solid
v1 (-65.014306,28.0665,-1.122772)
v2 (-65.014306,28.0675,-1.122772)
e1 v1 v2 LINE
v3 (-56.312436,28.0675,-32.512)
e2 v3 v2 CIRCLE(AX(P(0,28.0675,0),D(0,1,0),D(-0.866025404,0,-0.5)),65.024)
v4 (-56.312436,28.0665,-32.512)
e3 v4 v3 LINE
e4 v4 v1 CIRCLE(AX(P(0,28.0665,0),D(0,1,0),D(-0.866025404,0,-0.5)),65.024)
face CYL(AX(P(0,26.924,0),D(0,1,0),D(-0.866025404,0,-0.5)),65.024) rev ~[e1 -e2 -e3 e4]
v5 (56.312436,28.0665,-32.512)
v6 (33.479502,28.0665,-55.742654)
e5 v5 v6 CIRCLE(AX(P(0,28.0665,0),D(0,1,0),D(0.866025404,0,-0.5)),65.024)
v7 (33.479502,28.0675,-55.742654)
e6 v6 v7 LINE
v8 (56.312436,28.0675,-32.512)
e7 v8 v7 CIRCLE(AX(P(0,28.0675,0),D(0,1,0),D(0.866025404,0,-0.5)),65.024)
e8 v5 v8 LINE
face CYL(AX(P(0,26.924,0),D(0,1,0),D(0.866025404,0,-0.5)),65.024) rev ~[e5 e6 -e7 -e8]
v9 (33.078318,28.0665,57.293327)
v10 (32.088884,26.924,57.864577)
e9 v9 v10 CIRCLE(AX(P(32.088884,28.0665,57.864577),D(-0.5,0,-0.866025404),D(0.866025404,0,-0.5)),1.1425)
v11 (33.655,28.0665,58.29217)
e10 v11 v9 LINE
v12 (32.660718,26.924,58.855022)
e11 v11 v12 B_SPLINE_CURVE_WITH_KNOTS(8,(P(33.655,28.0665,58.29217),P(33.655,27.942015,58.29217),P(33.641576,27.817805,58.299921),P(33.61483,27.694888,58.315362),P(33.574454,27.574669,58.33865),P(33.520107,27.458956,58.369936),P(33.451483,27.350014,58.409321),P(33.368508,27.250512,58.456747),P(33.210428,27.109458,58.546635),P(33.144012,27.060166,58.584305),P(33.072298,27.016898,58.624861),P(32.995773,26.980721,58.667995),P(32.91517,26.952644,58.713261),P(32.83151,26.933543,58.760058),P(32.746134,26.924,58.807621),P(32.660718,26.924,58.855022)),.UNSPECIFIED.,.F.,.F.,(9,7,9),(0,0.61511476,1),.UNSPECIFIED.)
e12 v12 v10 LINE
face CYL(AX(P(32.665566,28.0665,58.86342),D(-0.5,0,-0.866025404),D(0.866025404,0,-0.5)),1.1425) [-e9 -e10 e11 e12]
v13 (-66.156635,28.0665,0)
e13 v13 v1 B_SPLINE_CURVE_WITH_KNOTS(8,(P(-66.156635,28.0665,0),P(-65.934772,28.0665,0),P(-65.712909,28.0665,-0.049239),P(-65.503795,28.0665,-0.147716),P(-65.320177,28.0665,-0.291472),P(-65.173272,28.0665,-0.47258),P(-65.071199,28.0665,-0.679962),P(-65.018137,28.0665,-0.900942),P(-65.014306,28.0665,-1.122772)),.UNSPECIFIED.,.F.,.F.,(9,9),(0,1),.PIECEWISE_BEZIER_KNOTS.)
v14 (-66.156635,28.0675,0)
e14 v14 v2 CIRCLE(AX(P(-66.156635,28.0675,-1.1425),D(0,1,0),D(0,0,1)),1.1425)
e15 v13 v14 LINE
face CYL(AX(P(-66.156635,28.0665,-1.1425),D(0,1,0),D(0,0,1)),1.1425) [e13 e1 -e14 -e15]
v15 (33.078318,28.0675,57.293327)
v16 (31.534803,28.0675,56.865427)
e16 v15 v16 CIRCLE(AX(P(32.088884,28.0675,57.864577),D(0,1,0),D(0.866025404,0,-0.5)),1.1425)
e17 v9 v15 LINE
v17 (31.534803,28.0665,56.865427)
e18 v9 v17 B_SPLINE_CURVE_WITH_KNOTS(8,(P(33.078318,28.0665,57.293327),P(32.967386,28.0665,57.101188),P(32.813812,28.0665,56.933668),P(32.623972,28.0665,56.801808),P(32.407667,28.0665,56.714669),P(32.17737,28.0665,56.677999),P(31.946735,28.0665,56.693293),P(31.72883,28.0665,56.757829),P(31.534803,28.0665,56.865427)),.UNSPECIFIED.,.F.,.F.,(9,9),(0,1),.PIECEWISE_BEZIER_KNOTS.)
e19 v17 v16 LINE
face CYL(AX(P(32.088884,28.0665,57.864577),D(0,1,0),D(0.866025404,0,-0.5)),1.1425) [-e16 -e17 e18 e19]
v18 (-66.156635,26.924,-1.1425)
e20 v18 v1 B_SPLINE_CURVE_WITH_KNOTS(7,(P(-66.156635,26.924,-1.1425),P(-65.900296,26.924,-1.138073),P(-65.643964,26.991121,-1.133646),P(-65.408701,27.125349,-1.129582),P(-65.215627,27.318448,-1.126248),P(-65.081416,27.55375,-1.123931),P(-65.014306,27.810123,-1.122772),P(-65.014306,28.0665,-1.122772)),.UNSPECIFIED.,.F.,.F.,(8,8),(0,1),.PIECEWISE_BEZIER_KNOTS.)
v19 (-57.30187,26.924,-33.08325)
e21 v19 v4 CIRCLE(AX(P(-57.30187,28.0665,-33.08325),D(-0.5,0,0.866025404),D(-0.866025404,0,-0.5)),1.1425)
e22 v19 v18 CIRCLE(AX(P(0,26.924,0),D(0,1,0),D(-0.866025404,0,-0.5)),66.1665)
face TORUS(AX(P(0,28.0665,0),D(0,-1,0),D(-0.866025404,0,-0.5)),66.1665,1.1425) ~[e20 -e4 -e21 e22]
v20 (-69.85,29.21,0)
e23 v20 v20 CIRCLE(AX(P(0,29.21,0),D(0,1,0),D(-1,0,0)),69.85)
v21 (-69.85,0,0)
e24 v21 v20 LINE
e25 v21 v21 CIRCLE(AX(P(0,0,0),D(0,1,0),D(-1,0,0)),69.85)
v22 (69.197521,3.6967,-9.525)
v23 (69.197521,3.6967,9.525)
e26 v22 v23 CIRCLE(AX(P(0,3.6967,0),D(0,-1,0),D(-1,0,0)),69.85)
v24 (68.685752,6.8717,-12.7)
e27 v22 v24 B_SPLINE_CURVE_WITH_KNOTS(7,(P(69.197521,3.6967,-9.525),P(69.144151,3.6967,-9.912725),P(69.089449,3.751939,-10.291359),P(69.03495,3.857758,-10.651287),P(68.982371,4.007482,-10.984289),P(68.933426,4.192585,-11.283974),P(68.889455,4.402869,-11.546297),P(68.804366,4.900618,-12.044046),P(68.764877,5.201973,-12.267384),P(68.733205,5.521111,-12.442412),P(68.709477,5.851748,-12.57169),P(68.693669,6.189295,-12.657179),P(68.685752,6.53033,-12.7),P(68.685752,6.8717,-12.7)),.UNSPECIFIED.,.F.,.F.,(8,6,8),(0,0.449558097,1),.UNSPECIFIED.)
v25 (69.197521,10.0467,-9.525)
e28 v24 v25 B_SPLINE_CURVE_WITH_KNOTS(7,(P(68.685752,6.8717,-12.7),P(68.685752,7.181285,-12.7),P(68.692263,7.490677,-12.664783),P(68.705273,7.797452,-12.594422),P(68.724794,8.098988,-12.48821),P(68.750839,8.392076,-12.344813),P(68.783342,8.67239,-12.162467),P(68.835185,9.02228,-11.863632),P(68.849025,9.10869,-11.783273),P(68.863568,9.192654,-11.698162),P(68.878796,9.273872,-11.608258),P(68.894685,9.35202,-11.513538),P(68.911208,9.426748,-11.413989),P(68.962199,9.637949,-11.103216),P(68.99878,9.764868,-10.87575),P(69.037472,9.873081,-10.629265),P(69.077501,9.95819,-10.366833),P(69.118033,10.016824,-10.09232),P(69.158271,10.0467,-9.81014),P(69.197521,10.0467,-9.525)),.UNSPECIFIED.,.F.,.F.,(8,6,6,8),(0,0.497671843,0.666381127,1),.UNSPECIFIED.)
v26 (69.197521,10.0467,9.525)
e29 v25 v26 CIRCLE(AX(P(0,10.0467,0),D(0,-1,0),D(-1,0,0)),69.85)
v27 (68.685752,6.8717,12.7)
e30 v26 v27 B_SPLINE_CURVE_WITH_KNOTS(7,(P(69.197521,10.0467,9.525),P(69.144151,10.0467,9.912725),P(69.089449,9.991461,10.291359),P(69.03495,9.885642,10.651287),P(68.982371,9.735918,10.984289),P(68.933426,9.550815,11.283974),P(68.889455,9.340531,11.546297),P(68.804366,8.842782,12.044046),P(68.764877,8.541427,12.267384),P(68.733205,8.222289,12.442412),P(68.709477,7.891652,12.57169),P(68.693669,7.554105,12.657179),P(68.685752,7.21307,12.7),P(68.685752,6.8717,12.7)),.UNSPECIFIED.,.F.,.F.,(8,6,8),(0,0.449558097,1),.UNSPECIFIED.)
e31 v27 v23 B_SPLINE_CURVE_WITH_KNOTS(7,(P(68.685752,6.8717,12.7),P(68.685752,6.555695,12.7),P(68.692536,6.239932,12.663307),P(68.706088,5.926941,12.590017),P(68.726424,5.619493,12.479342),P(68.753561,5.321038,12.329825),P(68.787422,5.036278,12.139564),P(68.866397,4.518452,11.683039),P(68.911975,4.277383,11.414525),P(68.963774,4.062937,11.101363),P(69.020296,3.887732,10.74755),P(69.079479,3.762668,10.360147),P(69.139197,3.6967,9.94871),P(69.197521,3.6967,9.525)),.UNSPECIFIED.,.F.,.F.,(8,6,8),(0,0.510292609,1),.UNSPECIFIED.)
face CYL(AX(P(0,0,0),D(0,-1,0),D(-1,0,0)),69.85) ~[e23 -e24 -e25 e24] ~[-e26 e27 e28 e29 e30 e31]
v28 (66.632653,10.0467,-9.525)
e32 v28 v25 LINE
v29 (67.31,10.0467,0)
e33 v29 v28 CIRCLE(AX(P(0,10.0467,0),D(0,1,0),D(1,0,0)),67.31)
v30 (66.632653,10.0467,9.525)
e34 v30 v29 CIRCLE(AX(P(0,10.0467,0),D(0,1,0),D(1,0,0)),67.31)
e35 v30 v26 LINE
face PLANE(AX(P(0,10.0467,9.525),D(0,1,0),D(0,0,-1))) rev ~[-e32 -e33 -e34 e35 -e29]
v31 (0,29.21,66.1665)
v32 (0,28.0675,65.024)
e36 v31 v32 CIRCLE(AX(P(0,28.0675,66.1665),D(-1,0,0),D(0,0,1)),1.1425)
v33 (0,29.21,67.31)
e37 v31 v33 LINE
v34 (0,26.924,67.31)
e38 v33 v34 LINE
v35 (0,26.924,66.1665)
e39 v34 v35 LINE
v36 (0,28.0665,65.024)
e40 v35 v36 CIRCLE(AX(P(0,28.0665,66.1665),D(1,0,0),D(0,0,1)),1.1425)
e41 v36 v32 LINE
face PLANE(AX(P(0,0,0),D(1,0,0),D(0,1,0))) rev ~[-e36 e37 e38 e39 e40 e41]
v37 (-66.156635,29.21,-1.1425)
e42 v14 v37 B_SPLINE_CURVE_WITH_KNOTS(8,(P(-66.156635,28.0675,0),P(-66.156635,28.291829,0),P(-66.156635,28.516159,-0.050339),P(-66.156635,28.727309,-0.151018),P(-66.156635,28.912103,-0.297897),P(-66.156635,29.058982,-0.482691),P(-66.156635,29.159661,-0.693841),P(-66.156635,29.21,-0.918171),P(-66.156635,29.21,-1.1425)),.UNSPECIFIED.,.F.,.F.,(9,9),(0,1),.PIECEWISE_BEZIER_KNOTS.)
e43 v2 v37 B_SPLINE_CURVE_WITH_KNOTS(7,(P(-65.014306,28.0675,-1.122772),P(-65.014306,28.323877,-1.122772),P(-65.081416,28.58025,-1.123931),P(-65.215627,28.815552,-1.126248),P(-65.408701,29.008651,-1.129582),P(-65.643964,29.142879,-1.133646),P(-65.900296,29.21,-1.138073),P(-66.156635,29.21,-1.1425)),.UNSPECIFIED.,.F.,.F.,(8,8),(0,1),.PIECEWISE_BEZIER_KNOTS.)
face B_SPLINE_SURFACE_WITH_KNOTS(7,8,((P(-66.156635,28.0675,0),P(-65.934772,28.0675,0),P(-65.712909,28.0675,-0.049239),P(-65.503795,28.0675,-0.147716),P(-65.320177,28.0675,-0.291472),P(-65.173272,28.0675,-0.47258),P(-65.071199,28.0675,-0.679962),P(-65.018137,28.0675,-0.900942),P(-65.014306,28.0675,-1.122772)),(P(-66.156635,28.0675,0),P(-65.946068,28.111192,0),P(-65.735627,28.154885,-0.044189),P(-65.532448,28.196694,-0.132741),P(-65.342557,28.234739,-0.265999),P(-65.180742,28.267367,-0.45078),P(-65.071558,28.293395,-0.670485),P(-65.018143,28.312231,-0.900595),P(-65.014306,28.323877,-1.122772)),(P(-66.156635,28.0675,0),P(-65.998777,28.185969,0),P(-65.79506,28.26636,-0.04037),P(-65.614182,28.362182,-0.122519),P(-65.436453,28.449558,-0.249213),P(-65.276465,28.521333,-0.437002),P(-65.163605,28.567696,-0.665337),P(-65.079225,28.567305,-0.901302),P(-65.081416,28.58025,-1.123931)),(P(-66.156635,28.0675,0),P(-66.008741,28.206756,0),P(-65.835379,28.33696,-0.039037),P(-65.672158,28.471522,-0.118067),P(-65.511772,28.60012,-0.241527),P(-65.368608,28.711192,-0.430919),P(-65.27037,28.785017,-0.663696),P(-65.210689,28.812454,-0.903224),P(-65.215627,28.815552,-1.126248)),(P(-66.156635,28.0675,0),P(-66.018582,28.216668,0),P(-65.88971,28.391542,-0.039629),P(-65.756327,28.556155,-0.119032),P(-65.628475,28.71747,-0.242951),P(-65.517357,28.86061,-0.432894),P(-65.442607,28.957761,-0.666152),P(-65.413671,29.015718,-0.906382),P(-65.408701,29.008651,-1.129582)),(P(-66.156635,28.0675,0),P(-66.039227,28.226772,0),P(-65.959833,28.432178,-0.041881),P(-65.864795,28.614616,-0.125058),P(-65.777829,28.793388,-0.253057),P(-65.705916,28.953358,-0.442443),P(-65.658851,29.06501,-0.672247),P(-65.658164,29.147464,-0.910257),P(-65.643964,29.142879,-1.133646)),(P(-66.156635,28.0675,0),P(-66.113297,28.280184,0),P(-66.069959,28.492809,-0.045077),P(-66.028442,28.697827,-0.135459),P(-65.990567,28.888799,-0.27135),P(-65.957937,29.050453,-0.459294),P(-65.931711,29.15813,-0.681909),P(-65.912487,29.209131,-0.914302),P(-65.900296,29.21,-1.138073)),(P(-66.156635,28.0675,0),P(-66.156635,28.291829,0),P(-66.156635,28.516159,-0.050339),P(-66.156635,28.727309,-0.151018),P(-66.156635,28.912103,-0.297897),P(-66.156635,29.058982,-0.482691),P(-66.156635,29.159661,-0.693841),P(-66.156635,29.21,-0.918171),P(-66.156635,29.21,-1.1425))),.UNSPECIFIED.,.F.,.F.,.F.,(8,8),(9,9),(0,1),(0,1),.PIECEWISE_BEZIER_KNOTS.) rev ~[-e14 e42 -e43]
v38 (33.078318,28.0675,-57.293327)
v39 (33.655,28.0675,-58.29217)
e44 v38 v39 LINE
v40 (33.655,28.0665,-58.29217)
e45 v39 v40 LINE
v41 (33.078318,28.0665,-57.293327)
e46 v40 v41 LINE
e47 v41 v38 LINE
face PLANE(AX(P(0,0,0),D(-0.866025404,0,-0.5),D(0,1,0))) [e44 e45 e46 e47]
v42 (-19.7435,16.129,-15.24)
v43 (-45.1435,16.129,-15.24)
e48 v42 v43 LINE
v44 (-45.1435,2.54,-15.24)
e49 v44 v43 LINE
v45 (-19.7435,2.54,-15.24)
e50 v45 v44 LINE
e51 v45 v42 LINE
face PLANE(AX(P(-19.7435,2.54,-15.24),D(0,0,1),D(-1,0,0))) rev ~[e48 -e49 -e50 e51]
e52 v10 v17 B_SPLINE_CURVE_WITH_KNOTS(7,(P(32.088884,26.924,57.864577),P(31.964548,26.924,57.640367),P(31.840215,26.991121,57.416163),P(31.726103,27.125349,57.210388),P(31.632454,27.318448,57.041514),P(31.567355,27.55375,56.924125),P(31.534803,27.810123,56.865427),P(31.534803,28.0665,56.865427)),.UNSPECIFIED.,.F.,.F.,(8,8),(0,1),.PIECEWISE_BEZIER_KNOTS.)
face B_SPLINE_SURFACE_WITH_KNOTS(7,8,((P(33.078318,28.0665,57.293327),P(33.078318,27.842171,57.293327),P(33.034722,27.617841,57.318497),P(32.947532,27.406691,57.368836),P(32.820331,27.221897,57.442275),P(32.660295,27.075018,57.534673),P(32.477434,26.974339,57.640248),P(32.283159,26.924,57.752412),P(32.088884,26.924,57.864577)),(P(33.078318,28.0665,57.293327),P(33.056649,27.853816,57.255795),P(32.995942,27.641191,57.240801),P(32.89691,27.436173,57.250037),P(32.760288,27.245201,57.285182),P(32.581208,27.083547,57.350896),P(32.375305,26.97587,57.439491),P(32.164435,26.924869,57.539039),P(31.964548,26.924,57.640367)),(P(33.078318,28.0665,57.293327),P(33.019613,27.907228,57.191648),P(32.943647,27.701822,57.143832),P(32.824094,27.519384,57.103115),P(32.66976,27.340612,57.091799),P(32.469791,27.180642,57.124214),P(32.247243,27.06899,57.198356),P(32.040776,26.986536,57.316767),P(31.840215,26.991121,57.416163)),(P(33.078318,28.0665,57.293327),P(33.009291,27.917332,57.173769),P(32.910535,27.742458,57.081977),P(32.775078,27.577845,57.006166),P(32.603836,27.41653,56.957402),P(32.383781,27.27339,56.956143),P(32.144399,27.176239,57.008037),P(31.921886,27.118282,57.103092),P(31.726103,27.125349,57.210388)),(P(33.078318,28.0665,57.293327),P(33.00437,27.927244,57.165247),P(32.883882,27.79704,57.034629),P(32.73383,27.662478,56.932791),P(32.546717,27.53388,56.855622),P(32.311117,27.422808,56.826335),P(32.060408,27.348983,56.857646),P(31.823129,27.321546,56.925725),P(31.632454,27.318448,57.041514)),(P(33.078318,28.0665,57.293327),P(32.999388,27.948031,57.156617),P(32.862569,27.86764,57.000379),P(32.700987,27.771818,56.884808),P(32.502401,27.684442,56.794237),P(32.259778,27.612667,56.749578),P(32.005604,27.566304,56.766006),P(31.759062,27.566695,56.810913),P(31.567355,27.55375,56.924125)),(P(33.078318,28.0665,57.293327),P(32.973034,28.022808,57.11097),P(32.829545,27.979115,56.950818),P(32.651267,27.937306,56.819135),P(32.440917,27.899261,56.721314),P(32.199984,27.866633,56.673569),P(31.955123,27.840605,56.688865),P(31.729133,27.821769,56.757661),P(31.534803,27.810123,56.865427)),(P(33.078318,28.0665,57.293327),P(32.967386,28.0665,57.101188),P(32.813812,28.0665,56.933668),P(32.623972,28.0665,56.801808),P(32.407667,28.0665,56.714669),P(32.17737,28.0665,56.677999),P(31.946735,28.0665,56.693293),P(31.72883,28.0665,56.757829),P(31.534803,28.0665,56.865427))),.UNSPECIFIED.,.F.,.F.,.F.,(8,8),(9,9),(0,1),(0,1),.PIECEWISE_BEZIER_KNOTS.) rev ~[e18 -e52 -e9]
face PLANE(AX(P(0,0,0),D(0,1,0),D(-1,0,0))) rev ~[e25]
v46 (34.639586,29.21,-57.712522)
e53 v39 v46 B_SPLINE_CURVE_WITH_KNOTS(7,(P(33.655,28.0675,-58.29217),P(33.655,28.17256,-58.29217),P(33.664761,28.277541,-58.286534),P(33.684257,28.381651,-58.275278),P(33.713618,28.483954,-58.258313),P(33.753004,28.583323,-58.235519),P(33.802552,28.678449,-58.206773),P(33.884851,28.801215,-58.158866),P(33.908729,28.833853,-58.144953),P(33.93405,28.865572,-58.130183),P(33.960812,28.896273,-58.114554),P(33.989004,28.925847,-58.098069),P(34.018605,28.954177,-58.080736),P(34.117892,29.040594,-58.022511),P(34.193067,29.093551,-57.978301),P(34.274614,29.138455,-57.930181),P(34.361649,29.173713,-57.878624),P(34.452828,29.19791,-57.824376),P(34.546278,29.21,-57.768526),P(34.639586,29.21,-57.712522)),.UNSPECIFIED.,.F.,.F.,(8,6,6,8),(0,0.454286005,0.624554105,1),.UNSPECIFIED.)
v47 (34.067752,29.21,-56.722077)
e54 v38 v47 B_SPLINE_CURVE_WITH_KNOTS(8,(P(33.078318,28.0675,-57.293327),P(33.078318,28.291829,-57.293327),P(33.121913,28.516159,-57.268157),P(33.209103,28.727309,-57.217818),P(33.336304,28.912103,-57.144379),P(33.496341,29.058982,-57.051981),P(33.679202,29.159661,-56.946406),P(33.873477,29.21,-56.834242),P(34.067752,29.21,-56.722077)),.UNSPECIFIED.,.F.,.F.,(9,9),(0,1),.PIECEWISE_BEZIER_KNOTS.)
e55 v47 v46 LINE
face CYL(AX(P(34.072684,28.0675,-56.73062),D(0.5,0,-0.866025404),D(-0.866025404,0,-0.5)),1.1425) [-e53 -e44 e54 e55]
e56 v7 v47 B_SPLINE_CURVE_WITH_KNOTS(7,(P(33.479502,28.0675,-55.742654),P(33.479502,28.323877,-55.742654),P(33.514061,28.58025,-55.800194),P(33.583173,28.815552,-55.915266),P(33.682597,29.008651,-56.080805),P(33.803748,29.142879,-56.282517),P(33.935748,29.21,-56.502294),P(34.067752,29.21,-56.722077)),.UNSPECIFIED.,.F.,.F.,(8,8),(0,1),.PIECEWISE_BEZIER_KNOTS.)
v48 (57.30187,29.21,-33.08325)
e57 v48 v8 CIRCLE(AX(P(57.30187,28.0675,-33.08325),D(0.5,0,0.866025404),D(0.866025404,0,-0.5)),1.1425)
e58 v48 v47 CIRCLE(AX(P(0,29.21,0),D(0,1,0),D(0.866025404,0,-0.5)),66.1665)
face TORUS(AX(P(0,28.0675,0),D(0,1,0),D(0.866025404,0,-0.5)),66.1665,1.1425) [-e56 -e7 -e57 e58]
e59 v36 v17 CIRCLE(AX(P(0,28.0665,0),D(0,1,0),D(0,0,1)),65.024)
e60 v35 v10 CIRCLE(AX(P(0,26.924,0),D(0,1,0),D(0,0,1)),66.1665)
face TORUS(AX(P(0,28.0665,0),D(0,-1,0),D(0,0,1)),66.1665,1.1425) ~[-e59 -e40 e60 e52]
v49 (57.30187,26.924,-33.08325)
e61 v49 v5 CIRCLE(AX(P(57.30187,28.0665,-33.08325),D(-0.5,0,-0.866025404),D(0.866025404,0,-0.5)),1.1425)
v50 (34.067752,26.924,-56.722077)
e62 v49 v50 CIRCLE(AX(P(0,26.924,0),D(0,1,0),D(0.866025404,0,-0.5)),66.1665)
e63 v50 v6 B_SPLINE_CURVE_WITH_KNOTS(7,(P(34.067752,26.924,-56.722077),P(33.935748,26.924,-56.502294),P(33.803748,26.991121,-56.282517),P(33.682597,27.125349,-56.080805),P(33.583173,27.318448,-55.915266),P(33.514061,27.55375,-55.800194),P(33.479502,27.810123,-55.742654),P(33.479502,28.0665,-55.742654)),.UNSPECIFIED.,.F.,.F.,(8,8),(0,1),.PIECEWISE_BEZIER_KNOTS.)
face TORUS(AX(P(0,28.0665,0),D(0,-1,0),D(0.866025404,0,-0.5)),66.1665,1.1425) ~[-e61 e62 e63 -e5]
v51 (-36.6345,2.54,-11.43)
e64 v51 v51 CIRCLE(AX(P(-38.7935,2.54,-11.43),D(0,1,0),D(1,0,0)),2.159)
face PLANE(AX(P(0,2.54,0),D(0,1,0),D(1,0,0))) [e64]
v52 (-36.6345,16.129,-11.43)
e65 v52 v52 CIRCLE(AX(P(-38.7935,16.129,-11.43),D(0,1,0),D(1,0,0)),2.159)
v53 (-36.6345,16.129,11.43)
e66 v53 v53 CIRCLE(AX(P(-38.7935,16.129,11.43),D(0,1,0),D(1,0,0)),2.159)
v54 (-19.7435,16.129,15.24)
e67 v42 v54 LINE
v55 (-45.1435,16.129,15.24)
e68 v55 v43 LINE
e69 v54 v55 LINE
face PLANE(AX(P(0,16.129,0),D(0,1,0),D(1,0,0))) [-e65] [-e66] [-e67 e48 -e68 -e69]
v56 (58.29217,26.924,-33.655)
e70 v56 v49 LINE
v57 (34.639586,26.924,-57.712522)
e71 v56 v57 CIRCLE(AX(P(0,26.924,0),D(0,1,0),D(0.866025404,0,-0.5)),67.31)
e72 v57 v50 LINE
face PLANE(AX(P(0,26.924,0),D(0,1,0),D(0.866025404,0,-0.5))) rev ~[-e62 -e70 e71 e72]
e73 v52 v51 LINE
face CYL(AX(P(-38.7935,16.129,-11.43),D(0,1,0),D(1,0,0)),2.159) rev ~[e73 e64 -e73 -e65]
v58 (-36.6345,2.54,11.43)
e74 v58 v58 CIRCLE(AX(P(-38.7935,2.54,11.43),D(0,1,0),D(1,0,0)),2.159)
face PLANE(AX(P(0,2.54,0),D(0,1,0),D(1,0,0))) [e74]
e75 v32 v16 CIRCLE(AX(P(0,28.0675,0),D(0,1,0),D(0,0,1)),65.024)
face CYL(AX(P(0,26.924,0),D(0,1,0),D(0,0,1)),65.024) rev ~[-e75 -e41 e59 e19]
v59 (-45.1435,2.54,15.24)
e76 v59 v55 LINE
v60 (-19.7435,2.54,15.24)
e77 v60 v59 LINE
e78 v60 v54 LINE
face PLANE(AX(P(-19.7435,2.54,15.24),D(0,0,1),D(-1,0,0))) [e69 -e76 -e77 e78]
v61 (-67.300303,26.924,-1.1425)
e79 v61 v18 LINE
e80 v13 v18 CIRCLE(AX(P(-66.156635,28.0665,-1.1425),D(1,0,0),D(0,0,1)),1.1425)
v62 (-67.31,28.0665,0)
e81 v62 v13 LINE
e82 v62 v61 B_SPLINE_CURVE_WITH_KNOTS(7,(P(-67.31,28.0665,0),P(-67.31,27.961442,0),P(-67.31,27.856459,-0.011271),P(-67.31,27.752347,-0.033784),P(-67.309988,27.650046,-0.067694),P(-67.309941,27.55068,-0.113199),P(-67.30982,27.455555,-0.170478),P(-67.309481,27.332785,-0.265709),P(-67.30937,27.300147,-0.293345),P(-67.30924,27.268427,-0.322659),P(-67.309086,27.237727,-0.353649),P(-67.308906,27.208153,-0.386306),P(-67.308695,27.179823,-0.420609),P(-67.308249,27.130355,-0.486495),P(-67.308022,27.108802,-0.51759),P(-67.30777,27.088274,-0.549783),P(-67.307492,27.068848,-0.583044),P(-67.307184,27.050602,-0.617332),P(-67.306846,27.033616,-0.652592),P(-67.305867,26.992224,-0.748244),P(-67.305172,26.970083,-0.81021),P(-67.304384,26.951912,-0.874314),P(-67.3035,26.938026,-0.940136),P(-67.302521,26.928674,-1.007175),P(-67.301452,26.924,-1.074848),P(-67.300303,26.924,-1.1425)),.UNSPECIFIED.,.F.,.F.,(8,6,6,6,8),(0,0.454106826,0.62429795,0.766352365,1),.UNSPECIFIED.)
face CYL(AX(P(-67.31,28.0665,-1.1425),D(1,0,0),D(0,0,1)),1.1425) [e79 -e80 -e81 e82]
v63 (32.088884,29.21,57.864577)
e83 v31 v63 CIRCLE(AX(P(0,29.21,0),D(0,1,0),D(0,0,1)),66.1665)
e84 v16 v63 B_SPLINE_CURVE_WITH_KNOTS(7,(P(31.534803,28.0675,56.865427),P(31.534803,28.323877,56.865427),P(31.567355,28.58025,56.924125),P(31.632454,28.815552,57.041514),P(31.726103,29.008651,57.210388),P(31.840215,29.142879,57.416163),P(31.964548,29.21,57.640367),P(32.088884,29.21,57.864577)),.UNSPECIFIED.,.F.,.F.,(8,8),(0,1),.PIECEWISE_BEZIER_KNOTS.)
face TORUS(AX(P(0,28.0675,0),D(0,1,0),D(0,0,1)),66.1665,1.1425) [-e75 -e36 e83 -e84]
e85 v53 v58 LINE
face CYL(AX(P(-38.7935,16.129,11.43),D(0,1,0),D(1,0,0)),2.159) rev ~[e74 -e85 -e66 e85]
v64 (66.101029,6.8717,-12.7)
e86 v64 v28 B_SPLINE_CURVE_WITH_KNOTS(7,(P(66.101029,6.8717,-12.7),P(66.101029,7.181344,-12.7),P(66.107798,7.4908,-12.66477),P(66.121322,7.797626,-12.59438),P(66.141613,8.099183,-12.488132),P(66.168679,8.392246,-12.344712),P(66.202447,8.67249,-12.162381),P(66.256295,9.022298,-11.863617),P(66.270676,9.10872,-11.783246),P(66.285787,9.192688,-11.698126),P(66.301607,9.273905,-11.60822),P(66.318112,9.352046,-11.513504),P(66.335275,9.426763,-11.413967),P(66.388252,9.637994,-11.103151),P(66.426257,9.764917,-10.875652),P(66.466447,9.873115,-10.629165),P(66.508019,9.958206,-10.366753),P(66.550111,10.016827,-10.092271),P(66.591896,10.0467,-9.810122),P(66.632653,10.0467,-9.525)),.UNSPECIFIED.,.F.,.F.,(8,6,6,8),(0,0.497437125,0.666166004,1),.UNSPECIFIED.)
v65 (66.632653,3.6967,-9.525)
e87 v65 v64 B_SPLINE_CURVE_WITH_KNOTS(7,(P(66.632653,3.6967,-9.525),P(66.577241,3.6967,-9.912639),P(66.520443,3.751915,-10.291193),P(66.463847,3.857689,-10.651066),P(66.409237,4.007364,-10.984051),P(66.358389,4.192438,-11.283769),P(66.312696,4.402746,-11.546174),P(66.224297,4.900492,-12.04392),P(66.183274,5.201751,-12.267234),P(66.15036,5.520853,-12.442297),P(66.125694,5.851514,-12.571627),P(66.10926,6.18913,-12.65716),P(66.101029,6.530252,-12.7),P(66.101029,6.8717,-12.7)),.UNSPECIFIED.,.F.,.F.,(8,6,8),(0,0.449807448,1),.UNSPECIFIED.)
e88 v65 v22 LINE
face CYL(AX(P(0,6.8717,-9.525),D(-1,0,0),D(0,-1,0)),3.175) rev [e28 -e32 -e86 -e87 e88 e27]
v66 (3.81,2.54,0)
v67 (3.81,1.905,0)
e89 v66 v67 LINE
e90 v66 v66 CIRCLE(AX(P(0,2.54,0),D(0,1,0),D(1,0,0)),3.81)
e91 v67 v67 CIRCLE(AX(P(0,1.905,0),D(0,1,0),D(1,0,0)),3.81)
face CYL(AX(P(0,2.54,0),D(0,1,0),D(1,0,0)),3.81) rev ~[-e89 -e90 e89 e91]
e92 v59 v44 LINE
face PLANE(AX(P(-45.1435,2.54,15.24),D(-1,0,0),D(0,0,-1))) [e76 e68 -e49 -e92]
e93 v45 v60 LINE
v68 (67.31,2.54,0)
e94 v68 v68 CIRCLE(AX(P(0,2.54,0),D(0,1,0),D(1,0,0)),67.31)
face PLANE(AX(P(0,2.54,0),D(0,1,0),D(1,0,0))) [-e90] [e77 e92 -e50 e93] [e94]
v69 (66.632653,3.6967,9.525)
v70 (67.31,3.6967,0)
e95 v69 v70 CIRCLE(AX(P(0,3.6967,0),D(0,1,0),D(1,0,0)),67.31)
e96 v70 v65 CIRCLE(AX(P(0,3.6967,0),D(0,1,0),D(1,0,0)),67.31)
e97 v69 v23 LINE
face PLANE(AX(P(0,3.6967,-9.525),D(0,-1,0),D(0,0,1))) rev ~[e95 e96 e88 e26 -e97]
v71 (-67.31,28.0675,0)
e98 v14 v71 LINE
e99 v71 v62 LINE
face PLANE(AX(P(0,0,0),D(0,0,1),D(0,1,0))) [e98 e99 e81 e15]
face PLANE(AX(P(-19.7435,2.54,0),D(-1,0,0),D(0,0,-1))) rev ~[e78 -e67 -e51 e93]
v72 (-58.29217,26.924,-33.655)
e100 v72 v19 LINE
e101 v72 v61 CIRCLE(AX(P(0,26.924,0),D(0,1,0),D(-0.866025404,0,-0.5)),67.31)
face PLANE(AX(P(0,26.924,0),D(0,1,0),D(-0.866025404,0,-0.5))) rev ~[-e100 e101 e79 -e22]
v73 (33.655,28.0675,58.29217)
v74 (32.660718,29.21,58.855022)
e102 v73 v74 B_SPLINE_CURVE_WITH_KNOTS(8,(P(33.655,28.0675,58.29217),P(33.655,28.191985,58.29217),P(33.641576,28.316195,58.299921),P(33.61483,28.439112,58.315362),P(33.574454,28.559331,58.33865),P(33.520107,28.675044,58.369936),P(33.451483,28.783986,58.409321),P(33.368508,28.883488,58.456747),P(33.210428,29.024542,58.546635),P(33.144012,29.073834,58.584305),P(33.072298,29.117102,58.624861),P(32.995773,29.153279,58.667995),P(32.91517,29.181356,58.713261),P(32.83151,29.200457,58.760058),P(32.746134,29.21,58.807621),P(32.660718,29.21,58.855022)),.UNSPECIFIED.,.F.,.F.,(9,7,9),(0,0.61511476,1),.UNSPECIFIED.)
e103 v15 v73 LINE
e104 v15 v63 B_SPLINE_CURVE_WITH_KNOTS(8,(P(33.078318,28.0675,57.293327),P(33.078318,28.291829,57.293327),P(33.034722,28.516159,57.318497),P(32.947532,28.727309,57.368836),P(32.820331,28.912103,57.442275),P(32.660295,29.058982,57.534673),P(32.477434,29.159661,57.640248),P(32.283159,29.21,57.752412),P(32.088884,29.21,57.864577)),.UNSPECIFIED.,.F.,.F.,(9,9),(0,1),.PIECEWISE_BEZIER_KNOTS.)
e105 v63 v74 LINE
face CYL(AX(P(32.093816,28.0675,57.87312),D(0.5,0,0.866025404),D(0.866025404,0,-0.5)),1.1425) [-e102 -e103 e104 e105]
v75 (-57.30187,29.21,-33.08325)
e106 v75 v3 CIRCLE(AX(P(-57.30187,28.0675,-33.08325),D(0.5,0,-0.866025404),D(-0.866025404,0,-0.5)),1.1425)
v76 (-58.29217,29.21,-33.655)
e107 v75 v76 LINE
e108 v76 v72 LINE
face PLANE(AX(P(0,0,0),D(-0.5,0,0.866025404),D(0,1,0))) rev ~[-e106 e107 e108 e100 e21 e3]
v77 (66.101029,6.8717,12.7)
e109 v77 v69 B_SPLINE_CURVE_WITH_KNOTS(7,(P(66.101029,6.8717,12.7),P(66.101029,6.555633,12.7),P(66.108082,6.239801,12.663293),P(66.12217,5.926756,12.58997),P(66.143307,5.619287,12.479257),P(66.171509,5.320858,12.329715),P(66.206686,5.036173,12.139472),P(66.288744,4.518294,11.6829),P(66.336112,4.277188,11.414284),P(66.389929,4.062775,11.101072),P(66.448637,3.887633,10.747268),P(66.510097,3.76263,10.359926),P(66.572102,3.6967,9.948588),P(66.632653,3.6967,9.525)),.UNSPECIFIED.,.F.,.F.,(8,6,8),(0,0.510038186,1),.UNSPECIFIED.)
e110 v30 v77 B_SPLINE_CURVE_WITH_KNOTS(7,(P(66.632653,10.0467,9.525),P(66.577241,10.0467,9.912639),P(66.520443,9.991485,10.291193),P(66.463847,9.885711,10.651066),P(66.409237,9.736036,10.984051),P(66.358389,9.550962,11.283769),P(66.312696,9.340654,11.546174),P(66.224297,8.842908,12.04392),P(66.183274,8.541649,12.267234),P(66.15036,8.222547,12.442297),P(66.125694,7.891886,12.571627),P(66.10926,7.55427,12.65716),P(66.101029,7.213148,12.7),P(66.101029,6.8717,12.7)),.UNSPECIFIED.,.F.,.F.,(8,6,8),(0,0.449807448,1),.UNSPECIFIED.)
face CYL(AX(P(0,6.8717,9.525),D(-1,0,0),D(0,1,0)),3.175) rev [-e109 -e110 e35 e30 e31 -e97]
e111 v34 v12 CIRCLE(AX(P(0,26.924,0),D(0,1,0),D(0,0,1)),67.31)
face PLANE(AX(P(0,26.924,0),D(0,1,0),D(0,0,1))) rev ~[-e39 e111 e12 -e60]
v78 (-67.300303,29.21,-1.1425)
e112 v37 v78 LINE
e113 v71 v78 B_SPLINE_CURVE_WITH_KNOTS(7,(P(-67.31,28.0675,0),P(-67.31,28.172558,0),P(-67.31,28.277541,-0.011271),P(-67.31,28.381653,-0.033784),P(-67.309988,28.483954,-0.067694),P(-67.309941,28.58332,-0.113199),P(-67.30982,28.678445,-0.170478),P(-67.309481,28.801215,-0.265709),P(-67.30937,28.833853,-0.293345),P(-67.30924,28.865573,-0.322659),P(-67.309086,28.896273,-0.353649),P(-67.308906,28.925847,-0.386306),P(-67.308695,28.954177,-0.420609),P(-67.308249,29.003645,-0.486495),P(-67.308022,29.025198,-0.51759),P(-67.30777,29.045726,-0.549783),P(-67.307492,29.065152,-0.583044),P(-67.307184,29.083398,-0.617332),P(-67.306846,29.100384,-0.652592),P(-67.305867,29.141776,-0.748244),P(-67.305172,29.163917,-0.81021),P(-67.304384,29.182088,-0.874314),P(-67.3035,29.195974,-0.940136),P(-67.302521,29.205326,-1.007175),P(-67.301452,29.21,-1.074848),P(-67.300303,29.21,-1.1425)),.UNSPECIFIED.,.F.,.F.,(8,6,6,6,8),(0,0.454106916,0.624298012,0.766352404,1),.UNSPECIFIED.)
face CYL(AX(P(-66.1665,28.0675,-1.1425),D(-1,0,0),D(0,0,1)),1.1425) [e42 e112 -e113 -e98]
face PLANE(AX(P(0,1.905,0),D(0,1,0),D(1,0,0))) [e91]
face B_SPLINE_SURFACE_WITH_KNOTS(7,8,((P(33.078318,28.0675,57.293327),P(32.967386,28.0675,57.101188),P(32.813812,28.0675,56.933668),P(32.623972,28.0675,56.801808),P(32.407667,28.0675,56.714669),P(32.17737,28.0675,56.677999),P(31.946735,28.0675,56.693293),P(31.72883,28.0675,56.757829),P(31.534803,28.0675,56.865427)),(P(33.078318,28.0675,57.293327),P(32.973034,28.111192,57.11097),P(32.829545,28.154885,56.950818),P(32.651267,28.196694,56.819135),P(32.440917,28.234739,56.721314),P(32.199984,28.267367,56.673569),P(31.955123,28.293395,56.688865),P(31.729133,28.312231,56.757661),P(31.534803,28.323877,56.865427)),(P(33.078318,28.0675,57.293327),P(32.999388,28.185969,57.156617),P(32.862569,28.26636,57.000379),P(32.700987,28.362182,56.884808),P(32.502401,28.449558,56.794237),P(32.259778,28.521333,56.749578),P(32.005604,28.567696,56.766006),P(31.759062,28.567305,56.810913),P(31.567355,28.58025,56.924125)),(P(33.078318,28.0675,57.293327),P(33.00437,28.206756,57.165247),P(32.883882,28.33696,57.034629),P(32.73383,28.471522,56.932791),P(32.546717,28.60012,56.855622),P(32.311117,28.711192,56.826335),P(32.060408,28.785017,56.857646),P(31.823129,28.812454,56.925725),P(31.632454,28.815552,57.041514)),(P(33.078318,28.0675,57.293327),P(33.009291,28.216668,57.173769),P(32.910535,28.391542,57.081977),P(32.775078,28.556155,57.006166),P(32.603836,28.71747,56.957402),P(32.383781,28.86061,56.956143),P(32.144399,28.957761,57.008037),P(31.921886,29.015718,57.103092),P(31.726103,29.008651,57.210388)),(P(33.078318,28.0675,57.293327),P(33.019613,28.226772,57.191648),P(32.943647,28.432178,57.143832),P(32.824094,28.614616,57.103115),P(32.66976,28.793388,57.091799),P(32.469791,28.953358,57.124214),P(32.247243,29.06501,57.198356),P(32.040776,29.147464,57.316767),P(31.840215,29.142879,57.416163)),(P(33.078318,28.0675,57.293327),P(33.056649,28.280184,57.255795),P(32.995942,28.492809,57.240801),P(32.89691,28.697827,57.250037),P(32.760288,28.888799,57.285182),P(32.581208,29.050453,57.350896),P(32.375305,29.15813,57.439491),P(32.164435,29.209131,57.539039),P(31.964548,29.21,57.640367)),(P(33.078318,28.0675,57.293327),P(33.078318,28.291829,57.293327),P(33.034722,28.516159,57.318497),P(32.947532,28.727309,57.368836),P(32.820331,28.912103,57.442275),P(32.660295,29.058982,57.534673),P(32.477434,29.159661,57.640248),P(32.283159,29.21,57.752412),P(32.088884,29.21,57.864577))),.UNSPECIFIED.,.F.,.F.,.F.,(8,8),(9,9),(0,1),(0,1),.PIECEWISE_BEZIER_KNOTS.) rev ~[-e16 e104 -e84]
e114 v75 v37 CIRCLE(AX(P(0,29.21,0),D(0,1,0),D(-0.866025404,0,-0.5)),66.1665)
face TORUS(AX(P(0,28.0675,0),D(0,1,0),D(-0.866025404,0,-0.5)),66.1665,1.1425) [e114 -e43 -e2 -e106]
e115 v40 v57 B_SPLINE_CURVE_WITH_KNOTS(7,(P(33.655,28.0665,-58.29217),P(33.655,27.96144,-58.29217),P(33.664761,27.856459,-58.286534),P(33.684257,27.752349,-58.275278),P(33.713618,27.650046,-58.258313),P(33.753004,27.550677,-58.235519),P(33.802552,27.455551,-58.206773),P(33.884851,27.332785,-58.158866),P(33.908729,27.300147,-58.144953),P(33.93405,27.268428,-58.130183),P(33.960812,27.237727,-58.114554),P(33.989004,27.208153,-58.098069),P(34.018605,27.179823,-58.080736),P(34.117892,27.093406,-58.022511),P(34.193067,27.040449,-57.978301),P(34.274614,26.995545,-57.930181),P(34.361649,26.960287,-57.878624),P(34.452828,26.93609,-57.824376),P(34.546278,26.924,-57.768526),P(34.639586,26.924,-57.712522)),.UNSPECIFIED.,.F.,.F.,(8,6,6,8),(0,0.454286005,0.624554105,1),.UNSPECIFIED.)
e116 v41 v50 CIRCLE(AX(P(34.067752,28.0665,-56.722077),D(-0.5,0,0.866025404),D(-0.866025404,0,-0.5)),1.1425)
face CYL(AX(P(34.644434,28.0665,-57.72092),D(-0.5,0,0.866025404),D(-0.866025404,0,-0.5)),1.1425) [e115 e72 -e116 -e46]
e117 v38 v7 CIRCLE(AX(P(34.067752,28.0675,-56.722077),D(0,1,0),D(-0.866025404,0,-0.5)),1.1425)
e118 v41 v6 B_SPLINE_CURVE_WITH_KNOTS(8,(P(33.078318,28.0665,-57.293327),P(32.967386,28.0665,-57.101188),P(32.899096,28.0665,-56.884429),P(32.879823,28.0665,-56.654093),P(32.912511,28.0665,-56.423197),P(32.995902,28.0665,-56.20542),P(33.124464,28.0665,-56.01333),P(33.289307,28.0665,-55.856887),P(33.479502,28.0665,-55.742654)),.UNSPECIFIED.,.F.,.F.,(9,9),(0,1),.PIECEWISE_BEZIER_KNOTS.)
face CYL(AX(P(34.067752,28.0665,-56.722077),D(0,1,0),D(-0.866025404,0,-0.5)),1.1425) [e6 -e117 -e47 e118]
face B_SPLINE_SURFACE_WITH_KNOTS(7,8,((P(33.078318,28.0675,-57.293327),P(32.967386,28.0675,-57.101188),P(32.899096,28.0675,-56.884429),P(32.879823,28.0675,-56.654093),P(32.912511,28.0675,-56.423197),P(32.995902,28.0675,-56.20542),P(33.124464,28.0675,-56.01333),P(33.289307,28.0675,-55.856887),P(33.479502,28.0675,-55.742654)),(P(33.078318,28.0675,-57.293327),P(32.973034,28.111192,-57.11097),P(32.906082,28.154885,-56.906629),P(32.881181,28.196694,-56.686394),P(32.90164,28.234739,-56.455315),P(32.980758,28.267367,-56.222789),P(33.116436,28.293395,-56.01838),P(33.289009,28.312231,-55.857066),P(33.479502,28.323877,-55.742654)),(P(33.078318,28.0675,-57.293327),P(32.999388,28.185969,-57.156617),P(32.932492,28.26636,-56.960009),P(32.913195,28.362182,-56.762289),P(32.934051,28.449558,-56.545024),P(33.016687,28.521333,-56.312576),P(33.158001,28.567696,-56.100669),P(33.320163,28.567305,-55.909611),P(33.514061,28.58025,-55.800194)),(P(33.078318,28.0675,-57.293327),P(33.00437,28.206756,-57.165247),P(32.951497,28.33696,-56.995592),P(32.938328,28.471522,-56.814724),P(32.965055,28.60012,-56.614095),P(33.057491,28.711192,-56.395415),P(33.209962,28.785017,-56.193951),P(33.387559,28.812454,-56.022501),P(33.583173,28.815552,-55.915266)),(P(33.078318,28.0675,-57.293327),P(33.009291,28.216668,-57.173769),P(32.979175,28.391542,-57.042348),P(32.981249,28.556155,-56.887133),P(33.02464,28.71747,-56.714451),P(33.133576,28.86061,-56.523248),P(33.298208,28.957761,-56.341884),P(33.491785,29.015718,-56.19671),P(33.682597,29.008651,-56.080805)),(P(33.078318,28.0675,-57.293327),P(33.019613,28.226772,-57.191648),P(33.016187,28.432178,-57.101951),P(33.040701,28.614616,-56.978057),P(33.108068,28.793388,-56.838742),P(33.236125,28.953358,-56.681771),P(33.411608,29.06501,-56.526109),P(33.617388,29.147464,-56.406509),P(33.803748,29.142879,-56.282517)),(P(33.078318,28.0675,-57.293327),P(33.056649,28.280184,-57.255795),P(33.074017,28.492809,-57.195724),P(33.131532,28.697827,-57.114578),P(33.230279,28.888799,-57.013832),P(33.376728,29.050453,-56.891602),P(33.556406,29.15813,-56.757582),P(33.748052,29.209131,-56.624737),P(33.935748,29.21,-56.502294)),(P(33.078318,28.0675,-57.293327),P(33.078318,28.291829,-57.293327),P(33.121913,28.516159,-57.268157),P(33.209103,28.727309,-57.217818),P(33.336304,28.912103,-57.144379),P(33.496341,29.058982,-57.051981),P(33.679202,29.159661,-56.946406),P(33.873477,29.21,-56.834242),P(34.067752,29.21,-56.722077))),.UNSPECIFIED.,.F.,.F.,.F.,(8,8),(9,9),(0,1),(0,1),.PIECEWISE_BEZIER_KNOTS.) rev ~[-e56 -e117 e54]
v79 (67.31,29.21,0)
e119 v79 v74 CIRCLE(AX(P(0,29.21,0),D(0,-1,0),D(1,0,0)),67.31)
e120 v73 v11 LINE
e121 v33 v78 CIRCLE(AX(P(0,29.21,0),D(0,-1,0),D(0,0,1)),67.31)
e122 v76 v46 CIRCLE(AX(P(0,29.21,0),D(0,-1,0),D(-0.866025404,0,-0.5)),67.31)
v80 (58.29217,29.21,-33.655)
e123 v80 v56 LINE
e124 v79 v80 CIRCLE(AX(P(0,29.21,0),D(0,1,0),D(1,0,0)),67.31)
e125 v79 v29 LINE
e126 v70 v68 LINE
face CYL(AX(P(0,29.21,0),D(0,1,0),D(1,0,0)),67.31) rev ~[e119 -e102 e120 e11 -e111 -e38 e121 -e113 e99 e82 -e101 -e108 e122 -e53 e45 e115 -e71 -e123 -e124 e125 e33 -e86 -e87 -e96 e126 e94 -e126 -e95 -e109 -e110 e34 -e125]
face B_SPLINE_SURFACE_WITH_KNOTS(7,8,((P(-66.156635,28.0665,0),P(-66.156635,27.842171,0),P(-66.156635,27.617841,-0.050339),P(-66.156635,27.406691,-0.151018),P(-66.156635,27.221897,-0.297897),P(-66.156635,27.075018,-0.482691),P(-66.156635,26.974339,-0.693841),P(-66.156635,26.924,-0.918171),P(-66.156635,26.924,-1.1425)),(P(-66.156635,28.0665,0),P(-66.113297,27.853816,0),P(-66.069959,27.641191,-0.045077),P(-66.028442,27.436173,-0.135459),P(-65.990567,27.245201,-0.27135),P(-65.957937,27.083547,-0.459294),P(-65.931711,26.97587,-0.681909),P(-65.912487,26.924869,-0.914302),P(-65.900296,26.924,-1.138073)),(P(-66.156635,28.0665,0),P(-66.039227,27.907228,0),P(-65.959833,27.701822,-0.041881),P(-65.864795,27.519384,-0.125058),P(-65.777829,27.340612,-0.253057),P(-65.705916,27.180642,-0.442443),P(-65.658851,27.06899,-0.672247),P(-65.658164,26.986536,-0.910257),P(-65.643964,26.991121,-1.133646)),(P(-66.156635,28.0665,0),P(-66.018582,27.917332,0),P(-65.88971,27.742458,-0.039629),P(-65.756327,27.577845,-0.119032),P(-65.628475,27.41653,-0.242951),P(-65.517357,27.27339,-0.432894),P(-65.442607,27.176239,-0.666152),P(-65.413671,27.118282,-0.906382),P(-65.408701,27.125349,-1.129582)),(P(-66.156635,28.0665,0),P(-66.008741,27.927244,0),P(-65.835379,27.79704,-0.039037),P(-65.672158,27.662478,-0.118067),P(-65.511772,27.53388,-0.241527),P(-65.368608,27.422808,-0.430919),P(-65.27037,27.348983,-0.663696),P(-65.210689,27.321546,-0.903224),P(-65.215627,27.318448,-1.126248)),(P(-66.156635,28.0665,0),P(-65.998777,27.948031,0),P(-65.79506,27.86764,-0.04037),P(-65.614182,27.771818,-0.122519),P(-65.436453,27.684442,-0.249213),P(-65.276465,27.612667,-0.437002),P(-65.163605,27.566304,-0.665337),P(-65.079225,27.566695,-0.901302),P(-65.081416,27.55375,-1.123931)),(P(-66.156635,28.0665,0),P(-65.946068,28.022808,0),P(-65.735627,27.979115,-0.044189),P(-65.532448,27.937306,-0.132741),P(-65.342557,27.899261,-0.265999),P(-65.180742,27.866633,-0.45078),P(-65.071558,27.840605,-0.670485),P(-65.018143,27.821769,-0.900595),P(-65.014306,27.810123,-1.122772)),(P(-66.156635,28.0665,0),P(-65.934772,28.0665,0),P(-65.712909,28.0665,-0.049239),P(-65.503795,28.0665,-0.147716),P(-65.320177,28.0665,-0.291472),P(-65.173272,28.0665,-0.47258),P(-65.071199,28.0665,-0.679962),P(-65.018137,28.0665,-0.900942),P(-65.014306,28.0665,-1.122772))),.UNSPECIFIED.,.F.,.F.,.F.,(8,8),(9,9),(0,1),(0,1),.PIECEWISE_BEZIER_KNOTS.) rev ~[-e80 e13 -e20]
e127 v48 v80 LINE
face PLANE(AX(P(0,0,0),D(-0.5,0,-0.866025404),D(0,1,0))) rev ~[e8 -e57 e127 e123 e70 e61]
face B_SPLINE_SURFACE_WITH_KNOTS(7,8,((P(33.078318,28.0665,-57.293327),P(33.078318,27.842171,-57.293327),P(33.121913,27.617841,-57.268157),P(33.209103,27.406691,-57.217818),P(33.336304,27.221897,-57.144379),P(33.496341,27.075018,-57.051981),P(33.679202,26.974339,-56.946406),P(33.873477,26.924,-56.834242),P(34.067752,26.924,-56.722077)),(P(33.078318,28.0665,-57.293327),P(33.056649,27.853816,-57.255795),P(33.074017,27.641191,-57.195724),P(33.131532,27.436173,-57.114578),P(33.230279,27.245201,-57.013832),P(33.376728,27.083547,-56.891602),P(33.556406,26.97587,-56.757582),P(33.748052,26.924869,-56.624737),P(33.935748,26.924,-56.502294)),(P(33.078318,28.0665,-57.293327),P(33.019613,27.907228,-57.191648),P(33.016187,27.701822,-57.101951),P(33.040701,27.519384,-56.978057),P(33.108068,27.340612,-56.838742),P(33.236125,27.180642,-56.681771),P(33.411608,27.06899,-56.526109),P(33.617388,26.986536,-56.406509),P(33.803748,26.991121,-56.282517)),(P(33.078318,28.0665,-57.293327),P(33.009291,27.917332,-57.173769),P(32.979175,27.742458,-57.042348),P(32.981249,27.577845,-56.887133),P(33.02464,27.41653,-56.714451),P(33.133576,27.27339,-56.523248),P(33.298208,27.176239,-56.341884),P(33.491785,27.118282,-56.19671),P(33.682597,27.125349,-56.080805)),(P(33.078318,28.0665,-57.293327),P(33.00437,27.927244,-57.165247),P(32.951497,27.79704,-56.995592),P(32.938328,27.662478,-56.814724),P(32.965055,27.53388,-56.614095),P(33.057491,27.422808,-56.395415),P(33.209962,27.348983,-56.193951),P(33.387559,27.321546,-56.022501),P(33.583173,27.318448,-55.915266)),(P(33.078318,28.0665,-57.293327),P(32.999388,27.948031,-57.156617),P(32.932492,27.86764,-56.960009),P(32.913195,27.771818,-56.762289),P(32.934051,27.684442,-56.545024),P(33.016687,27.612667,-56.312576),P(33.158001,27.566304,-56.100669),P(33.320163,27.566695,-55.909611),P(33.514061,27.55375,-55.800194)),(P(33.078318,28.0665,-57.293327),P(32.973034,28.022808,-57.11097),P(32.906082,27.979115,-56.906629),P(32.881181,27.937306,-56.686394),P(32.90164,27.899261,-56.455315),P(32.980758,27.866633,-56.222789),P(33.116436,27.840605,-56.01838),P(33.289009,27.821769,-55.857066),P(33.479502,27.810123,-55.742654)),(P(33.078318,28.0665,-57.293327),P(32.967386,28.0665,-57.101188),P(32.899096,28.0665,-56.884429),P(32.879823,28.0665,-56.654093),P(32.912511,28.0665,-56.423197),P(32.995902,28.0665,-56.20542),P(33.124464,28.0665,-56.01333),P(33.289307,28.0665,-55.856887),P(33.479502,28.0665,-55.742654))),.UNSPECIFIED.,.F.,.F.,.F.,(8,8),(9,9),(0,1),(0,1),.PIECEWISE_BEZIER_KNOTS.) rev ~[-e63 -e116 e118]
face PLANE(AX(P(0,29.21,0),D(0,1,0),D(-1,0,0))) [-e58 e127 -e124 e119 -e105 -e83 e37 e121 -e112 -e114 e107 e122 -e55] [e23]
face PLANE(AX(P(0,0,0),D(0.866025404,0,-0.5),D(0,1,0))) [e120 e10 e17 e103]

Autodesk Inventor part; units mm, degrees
ref_plane "YZ Plane" through (0, 0, 0) normal (1, 0, 0) x (0, 1, 0)
ref_plane "XZ Plane" through (0, 0, 0) normal (0, 1, 0) x (-1, 0, 0)
ref_plane "XY Plane" through (0, 0, 0) normal (0, 0, 1) x (1, 0, 0)
sketch "Sketch1" plane through (0, 0, 0) normal (0, 1, 0) x (-1, 0, 0)
  circle A0 centre (0, 0) radius 69.85
  dimension "d0" = 139.7
extrude "Extrusion1" add sketch "Sketch1" along normal blind 29.21
sketch "Sketch3" plane through (0, 29.21, 0) normal (0, 1, 0) x (1, 0, 0)
  circle A0 centre (0, 0) radius 67.31
  dimension "d5" = 134.62
extrude "Extrusion2" cut sketch "Sketch3" against normal blind 26.67
sketch "Sketch6" plane through (0, 0, 0) normal (1, 0, 0) x (0, 1, 0)
  line L0 (29.21, 67.31) -> (2.54, 67.31) projected
  line L1 (29.21, 67.31) -> (26.924, 67.31)
  line L2 (26.924, 67.31) -> (26.924, 65.024)
  line L3 (26.924, 65.024) -> (29.21, 65.024)
  line L4 (29.21, 65.024) -> (29.21, 67.31)
  line L5 (-5.842, 0) -> (35.052, 0) projected
  line L6 (29.21, -69.85) -> (29.21, 69.85) projected
  point P0 (0, 0)
  dimension "d21" = 2.286
  dimension "d22" = 2.286
  dimension "d36" = 0
revolve "Revolution1" add sketch "Sketch6" angle 30 about axis through (0, -10, 0) along (0, 1, 0)
fillet "Fillet2" radius 1.143 2 edges at (16.8294, 26.924, 62.8084) (16.8294, 29.21, 62.8084)
fillet "Fillet3" radius 1.143 3 edges at (32.6793, 27.2586, 56.6022) (33.3691, 29.21, 57.797) (33.3691, 26.924, 57.797)
pattern_circular "Circular Pattern1" count 3 over 360 about axis through (0, 0, 0) along (0, 1, 0) of "Revolution1", "Fillet2", "Fillet3"
sketch "Sketch9" plane through (0, 0, 0) normal (1, 0, 0) x (0, 1, 0)
  circle A0 centre (6.8717, 0) radius 3.175 construction
  line L0 (6.8717, 0) -> (6.8717, -12.7) construction
  line L1 (6.8717, 0) -> (6.8717, 12.7) construction
  line L2 (6.8717, -12.7) -> (6.8717, -12.7)
  line L3 (3.6967, -9.525) -> (3.6967, 9.525)
  line L4 (6.8717, 12.7) -> (6.8717, 12.7)
  line L5 (10.0467, 9.525) -> (10.0467, -9.525)
  arc A1 (6.8717, -12.7) -> (10.0467, -9.525) centre (6.8717, -9.525) ccw
  arc A2 (3.6967, -9.525) -> (6.8717, -12.7) centre (6.8717, -9.525) ccw
  arc A3 (6.8717, 12.7) -> (3.6967, 9.525) centre (6.8717, 9.525) ccw
  arc A4 (10.0467, 9.525) -> (6.8717, 12.7) centre (6.8717, 9.525) ccw
  point P0 (0, 0)
  dimension "d37" = 6.35
  dimension "d48" = 12.7
  dimension "d49" = 12.7
  dimension "d50" = 3.175
extrude "Extrusion9" cut sketch "Sketch9" along normal through all
sketch "Sketch15" plane through (0, 2.54, 0) normal (0, 1, 0) x (1, 0, 0)
  line L0 (-19.7435, -6.1595) -> (-19.7435, 6.1595)
  line L1 (-31.8085, -6.1595) -> (-19.7435, -6.1595)
  line L2 (-31.8085, 6.1595) -> (-19.7435, 6.1595)
  line L3 (-47.8867, -3.627) -> (-47.8867, 3.627)
  point P0 (0, 0)
sketch "Sketch16" plane through (0, 2.54, 0) normal (0, 1, 0) x (1, 0, 0)
  line L0 (-19.7435, -6.1595) -> (-19.7435, 6.1595) construction
  line L1 (-31.8085, 6.1595) -> (-19.7435, 6.1595) construction
  line L2 (-31.8085, -6.1595) -> (-19.7435, -6.1595) construction
  line L3 (-47.8867, -3.627) -> (-47.8867, 3.627) construction
  line L4 (-19.7435, 0) -> (-19.7435, 15.24)
  line L5 (-19.7435, 15.24) -> (-45.1435, 15.24)
  line L6 (-19.7435, 0) -> (-19.7435, -15.24)
  line L7 (-19.7435, -15.24) -> (-45.1435, -15.24)
  line L8 (-45.1435, -15.24) -> (-45.1435, 15.24)
  point P0 (0, 0)
  dimension "d53" = 15.24
  dimension "d54" = 25.4
  dimension "d55" = 15.24
  dimension "d56" = 25.4
extrude "Extrusion10" add sketch "Sketch16" along normal blind 13.589
sketch "Sketch17" plane through (0, 16.129, 0) normal (0, 1, 0) x (1, 0, 0)
  circle A0 centre (-38.7935, -11.43) radius 2.159
  circle A1 centre (-38.7935, 11.43) radius 2.159
  line L0 (-45.1435, -15.24) -> (-19.7435, -15.24) projected
  line L1 (-45.1435, 15.24) -> (-45.1435, -15.24) projected
  point P0 (0, 0)
  dimension "d59" = 4.318
  dimension "d60" = 4.318
  dimension "d61" = 22.86
  dimension "d62" = 3.81
  dimension "d63" = 6.35
  dimension "d64" = 6.35
extrude "Extrusion11" cut sketch "Sketch17" against normal blind 13.589
sketch "Sketch18" plane through (0, 2.54, 0) normal (0, 1, 0) x (1, 0, 0)
  circle A0 centre (0, 0) radius 3.81
  dimension "d67" = 7.62
extrude "Extrusion12" cut sketch "Sketch18" against normal blind 0.635
properties part number "bottom_basket"
